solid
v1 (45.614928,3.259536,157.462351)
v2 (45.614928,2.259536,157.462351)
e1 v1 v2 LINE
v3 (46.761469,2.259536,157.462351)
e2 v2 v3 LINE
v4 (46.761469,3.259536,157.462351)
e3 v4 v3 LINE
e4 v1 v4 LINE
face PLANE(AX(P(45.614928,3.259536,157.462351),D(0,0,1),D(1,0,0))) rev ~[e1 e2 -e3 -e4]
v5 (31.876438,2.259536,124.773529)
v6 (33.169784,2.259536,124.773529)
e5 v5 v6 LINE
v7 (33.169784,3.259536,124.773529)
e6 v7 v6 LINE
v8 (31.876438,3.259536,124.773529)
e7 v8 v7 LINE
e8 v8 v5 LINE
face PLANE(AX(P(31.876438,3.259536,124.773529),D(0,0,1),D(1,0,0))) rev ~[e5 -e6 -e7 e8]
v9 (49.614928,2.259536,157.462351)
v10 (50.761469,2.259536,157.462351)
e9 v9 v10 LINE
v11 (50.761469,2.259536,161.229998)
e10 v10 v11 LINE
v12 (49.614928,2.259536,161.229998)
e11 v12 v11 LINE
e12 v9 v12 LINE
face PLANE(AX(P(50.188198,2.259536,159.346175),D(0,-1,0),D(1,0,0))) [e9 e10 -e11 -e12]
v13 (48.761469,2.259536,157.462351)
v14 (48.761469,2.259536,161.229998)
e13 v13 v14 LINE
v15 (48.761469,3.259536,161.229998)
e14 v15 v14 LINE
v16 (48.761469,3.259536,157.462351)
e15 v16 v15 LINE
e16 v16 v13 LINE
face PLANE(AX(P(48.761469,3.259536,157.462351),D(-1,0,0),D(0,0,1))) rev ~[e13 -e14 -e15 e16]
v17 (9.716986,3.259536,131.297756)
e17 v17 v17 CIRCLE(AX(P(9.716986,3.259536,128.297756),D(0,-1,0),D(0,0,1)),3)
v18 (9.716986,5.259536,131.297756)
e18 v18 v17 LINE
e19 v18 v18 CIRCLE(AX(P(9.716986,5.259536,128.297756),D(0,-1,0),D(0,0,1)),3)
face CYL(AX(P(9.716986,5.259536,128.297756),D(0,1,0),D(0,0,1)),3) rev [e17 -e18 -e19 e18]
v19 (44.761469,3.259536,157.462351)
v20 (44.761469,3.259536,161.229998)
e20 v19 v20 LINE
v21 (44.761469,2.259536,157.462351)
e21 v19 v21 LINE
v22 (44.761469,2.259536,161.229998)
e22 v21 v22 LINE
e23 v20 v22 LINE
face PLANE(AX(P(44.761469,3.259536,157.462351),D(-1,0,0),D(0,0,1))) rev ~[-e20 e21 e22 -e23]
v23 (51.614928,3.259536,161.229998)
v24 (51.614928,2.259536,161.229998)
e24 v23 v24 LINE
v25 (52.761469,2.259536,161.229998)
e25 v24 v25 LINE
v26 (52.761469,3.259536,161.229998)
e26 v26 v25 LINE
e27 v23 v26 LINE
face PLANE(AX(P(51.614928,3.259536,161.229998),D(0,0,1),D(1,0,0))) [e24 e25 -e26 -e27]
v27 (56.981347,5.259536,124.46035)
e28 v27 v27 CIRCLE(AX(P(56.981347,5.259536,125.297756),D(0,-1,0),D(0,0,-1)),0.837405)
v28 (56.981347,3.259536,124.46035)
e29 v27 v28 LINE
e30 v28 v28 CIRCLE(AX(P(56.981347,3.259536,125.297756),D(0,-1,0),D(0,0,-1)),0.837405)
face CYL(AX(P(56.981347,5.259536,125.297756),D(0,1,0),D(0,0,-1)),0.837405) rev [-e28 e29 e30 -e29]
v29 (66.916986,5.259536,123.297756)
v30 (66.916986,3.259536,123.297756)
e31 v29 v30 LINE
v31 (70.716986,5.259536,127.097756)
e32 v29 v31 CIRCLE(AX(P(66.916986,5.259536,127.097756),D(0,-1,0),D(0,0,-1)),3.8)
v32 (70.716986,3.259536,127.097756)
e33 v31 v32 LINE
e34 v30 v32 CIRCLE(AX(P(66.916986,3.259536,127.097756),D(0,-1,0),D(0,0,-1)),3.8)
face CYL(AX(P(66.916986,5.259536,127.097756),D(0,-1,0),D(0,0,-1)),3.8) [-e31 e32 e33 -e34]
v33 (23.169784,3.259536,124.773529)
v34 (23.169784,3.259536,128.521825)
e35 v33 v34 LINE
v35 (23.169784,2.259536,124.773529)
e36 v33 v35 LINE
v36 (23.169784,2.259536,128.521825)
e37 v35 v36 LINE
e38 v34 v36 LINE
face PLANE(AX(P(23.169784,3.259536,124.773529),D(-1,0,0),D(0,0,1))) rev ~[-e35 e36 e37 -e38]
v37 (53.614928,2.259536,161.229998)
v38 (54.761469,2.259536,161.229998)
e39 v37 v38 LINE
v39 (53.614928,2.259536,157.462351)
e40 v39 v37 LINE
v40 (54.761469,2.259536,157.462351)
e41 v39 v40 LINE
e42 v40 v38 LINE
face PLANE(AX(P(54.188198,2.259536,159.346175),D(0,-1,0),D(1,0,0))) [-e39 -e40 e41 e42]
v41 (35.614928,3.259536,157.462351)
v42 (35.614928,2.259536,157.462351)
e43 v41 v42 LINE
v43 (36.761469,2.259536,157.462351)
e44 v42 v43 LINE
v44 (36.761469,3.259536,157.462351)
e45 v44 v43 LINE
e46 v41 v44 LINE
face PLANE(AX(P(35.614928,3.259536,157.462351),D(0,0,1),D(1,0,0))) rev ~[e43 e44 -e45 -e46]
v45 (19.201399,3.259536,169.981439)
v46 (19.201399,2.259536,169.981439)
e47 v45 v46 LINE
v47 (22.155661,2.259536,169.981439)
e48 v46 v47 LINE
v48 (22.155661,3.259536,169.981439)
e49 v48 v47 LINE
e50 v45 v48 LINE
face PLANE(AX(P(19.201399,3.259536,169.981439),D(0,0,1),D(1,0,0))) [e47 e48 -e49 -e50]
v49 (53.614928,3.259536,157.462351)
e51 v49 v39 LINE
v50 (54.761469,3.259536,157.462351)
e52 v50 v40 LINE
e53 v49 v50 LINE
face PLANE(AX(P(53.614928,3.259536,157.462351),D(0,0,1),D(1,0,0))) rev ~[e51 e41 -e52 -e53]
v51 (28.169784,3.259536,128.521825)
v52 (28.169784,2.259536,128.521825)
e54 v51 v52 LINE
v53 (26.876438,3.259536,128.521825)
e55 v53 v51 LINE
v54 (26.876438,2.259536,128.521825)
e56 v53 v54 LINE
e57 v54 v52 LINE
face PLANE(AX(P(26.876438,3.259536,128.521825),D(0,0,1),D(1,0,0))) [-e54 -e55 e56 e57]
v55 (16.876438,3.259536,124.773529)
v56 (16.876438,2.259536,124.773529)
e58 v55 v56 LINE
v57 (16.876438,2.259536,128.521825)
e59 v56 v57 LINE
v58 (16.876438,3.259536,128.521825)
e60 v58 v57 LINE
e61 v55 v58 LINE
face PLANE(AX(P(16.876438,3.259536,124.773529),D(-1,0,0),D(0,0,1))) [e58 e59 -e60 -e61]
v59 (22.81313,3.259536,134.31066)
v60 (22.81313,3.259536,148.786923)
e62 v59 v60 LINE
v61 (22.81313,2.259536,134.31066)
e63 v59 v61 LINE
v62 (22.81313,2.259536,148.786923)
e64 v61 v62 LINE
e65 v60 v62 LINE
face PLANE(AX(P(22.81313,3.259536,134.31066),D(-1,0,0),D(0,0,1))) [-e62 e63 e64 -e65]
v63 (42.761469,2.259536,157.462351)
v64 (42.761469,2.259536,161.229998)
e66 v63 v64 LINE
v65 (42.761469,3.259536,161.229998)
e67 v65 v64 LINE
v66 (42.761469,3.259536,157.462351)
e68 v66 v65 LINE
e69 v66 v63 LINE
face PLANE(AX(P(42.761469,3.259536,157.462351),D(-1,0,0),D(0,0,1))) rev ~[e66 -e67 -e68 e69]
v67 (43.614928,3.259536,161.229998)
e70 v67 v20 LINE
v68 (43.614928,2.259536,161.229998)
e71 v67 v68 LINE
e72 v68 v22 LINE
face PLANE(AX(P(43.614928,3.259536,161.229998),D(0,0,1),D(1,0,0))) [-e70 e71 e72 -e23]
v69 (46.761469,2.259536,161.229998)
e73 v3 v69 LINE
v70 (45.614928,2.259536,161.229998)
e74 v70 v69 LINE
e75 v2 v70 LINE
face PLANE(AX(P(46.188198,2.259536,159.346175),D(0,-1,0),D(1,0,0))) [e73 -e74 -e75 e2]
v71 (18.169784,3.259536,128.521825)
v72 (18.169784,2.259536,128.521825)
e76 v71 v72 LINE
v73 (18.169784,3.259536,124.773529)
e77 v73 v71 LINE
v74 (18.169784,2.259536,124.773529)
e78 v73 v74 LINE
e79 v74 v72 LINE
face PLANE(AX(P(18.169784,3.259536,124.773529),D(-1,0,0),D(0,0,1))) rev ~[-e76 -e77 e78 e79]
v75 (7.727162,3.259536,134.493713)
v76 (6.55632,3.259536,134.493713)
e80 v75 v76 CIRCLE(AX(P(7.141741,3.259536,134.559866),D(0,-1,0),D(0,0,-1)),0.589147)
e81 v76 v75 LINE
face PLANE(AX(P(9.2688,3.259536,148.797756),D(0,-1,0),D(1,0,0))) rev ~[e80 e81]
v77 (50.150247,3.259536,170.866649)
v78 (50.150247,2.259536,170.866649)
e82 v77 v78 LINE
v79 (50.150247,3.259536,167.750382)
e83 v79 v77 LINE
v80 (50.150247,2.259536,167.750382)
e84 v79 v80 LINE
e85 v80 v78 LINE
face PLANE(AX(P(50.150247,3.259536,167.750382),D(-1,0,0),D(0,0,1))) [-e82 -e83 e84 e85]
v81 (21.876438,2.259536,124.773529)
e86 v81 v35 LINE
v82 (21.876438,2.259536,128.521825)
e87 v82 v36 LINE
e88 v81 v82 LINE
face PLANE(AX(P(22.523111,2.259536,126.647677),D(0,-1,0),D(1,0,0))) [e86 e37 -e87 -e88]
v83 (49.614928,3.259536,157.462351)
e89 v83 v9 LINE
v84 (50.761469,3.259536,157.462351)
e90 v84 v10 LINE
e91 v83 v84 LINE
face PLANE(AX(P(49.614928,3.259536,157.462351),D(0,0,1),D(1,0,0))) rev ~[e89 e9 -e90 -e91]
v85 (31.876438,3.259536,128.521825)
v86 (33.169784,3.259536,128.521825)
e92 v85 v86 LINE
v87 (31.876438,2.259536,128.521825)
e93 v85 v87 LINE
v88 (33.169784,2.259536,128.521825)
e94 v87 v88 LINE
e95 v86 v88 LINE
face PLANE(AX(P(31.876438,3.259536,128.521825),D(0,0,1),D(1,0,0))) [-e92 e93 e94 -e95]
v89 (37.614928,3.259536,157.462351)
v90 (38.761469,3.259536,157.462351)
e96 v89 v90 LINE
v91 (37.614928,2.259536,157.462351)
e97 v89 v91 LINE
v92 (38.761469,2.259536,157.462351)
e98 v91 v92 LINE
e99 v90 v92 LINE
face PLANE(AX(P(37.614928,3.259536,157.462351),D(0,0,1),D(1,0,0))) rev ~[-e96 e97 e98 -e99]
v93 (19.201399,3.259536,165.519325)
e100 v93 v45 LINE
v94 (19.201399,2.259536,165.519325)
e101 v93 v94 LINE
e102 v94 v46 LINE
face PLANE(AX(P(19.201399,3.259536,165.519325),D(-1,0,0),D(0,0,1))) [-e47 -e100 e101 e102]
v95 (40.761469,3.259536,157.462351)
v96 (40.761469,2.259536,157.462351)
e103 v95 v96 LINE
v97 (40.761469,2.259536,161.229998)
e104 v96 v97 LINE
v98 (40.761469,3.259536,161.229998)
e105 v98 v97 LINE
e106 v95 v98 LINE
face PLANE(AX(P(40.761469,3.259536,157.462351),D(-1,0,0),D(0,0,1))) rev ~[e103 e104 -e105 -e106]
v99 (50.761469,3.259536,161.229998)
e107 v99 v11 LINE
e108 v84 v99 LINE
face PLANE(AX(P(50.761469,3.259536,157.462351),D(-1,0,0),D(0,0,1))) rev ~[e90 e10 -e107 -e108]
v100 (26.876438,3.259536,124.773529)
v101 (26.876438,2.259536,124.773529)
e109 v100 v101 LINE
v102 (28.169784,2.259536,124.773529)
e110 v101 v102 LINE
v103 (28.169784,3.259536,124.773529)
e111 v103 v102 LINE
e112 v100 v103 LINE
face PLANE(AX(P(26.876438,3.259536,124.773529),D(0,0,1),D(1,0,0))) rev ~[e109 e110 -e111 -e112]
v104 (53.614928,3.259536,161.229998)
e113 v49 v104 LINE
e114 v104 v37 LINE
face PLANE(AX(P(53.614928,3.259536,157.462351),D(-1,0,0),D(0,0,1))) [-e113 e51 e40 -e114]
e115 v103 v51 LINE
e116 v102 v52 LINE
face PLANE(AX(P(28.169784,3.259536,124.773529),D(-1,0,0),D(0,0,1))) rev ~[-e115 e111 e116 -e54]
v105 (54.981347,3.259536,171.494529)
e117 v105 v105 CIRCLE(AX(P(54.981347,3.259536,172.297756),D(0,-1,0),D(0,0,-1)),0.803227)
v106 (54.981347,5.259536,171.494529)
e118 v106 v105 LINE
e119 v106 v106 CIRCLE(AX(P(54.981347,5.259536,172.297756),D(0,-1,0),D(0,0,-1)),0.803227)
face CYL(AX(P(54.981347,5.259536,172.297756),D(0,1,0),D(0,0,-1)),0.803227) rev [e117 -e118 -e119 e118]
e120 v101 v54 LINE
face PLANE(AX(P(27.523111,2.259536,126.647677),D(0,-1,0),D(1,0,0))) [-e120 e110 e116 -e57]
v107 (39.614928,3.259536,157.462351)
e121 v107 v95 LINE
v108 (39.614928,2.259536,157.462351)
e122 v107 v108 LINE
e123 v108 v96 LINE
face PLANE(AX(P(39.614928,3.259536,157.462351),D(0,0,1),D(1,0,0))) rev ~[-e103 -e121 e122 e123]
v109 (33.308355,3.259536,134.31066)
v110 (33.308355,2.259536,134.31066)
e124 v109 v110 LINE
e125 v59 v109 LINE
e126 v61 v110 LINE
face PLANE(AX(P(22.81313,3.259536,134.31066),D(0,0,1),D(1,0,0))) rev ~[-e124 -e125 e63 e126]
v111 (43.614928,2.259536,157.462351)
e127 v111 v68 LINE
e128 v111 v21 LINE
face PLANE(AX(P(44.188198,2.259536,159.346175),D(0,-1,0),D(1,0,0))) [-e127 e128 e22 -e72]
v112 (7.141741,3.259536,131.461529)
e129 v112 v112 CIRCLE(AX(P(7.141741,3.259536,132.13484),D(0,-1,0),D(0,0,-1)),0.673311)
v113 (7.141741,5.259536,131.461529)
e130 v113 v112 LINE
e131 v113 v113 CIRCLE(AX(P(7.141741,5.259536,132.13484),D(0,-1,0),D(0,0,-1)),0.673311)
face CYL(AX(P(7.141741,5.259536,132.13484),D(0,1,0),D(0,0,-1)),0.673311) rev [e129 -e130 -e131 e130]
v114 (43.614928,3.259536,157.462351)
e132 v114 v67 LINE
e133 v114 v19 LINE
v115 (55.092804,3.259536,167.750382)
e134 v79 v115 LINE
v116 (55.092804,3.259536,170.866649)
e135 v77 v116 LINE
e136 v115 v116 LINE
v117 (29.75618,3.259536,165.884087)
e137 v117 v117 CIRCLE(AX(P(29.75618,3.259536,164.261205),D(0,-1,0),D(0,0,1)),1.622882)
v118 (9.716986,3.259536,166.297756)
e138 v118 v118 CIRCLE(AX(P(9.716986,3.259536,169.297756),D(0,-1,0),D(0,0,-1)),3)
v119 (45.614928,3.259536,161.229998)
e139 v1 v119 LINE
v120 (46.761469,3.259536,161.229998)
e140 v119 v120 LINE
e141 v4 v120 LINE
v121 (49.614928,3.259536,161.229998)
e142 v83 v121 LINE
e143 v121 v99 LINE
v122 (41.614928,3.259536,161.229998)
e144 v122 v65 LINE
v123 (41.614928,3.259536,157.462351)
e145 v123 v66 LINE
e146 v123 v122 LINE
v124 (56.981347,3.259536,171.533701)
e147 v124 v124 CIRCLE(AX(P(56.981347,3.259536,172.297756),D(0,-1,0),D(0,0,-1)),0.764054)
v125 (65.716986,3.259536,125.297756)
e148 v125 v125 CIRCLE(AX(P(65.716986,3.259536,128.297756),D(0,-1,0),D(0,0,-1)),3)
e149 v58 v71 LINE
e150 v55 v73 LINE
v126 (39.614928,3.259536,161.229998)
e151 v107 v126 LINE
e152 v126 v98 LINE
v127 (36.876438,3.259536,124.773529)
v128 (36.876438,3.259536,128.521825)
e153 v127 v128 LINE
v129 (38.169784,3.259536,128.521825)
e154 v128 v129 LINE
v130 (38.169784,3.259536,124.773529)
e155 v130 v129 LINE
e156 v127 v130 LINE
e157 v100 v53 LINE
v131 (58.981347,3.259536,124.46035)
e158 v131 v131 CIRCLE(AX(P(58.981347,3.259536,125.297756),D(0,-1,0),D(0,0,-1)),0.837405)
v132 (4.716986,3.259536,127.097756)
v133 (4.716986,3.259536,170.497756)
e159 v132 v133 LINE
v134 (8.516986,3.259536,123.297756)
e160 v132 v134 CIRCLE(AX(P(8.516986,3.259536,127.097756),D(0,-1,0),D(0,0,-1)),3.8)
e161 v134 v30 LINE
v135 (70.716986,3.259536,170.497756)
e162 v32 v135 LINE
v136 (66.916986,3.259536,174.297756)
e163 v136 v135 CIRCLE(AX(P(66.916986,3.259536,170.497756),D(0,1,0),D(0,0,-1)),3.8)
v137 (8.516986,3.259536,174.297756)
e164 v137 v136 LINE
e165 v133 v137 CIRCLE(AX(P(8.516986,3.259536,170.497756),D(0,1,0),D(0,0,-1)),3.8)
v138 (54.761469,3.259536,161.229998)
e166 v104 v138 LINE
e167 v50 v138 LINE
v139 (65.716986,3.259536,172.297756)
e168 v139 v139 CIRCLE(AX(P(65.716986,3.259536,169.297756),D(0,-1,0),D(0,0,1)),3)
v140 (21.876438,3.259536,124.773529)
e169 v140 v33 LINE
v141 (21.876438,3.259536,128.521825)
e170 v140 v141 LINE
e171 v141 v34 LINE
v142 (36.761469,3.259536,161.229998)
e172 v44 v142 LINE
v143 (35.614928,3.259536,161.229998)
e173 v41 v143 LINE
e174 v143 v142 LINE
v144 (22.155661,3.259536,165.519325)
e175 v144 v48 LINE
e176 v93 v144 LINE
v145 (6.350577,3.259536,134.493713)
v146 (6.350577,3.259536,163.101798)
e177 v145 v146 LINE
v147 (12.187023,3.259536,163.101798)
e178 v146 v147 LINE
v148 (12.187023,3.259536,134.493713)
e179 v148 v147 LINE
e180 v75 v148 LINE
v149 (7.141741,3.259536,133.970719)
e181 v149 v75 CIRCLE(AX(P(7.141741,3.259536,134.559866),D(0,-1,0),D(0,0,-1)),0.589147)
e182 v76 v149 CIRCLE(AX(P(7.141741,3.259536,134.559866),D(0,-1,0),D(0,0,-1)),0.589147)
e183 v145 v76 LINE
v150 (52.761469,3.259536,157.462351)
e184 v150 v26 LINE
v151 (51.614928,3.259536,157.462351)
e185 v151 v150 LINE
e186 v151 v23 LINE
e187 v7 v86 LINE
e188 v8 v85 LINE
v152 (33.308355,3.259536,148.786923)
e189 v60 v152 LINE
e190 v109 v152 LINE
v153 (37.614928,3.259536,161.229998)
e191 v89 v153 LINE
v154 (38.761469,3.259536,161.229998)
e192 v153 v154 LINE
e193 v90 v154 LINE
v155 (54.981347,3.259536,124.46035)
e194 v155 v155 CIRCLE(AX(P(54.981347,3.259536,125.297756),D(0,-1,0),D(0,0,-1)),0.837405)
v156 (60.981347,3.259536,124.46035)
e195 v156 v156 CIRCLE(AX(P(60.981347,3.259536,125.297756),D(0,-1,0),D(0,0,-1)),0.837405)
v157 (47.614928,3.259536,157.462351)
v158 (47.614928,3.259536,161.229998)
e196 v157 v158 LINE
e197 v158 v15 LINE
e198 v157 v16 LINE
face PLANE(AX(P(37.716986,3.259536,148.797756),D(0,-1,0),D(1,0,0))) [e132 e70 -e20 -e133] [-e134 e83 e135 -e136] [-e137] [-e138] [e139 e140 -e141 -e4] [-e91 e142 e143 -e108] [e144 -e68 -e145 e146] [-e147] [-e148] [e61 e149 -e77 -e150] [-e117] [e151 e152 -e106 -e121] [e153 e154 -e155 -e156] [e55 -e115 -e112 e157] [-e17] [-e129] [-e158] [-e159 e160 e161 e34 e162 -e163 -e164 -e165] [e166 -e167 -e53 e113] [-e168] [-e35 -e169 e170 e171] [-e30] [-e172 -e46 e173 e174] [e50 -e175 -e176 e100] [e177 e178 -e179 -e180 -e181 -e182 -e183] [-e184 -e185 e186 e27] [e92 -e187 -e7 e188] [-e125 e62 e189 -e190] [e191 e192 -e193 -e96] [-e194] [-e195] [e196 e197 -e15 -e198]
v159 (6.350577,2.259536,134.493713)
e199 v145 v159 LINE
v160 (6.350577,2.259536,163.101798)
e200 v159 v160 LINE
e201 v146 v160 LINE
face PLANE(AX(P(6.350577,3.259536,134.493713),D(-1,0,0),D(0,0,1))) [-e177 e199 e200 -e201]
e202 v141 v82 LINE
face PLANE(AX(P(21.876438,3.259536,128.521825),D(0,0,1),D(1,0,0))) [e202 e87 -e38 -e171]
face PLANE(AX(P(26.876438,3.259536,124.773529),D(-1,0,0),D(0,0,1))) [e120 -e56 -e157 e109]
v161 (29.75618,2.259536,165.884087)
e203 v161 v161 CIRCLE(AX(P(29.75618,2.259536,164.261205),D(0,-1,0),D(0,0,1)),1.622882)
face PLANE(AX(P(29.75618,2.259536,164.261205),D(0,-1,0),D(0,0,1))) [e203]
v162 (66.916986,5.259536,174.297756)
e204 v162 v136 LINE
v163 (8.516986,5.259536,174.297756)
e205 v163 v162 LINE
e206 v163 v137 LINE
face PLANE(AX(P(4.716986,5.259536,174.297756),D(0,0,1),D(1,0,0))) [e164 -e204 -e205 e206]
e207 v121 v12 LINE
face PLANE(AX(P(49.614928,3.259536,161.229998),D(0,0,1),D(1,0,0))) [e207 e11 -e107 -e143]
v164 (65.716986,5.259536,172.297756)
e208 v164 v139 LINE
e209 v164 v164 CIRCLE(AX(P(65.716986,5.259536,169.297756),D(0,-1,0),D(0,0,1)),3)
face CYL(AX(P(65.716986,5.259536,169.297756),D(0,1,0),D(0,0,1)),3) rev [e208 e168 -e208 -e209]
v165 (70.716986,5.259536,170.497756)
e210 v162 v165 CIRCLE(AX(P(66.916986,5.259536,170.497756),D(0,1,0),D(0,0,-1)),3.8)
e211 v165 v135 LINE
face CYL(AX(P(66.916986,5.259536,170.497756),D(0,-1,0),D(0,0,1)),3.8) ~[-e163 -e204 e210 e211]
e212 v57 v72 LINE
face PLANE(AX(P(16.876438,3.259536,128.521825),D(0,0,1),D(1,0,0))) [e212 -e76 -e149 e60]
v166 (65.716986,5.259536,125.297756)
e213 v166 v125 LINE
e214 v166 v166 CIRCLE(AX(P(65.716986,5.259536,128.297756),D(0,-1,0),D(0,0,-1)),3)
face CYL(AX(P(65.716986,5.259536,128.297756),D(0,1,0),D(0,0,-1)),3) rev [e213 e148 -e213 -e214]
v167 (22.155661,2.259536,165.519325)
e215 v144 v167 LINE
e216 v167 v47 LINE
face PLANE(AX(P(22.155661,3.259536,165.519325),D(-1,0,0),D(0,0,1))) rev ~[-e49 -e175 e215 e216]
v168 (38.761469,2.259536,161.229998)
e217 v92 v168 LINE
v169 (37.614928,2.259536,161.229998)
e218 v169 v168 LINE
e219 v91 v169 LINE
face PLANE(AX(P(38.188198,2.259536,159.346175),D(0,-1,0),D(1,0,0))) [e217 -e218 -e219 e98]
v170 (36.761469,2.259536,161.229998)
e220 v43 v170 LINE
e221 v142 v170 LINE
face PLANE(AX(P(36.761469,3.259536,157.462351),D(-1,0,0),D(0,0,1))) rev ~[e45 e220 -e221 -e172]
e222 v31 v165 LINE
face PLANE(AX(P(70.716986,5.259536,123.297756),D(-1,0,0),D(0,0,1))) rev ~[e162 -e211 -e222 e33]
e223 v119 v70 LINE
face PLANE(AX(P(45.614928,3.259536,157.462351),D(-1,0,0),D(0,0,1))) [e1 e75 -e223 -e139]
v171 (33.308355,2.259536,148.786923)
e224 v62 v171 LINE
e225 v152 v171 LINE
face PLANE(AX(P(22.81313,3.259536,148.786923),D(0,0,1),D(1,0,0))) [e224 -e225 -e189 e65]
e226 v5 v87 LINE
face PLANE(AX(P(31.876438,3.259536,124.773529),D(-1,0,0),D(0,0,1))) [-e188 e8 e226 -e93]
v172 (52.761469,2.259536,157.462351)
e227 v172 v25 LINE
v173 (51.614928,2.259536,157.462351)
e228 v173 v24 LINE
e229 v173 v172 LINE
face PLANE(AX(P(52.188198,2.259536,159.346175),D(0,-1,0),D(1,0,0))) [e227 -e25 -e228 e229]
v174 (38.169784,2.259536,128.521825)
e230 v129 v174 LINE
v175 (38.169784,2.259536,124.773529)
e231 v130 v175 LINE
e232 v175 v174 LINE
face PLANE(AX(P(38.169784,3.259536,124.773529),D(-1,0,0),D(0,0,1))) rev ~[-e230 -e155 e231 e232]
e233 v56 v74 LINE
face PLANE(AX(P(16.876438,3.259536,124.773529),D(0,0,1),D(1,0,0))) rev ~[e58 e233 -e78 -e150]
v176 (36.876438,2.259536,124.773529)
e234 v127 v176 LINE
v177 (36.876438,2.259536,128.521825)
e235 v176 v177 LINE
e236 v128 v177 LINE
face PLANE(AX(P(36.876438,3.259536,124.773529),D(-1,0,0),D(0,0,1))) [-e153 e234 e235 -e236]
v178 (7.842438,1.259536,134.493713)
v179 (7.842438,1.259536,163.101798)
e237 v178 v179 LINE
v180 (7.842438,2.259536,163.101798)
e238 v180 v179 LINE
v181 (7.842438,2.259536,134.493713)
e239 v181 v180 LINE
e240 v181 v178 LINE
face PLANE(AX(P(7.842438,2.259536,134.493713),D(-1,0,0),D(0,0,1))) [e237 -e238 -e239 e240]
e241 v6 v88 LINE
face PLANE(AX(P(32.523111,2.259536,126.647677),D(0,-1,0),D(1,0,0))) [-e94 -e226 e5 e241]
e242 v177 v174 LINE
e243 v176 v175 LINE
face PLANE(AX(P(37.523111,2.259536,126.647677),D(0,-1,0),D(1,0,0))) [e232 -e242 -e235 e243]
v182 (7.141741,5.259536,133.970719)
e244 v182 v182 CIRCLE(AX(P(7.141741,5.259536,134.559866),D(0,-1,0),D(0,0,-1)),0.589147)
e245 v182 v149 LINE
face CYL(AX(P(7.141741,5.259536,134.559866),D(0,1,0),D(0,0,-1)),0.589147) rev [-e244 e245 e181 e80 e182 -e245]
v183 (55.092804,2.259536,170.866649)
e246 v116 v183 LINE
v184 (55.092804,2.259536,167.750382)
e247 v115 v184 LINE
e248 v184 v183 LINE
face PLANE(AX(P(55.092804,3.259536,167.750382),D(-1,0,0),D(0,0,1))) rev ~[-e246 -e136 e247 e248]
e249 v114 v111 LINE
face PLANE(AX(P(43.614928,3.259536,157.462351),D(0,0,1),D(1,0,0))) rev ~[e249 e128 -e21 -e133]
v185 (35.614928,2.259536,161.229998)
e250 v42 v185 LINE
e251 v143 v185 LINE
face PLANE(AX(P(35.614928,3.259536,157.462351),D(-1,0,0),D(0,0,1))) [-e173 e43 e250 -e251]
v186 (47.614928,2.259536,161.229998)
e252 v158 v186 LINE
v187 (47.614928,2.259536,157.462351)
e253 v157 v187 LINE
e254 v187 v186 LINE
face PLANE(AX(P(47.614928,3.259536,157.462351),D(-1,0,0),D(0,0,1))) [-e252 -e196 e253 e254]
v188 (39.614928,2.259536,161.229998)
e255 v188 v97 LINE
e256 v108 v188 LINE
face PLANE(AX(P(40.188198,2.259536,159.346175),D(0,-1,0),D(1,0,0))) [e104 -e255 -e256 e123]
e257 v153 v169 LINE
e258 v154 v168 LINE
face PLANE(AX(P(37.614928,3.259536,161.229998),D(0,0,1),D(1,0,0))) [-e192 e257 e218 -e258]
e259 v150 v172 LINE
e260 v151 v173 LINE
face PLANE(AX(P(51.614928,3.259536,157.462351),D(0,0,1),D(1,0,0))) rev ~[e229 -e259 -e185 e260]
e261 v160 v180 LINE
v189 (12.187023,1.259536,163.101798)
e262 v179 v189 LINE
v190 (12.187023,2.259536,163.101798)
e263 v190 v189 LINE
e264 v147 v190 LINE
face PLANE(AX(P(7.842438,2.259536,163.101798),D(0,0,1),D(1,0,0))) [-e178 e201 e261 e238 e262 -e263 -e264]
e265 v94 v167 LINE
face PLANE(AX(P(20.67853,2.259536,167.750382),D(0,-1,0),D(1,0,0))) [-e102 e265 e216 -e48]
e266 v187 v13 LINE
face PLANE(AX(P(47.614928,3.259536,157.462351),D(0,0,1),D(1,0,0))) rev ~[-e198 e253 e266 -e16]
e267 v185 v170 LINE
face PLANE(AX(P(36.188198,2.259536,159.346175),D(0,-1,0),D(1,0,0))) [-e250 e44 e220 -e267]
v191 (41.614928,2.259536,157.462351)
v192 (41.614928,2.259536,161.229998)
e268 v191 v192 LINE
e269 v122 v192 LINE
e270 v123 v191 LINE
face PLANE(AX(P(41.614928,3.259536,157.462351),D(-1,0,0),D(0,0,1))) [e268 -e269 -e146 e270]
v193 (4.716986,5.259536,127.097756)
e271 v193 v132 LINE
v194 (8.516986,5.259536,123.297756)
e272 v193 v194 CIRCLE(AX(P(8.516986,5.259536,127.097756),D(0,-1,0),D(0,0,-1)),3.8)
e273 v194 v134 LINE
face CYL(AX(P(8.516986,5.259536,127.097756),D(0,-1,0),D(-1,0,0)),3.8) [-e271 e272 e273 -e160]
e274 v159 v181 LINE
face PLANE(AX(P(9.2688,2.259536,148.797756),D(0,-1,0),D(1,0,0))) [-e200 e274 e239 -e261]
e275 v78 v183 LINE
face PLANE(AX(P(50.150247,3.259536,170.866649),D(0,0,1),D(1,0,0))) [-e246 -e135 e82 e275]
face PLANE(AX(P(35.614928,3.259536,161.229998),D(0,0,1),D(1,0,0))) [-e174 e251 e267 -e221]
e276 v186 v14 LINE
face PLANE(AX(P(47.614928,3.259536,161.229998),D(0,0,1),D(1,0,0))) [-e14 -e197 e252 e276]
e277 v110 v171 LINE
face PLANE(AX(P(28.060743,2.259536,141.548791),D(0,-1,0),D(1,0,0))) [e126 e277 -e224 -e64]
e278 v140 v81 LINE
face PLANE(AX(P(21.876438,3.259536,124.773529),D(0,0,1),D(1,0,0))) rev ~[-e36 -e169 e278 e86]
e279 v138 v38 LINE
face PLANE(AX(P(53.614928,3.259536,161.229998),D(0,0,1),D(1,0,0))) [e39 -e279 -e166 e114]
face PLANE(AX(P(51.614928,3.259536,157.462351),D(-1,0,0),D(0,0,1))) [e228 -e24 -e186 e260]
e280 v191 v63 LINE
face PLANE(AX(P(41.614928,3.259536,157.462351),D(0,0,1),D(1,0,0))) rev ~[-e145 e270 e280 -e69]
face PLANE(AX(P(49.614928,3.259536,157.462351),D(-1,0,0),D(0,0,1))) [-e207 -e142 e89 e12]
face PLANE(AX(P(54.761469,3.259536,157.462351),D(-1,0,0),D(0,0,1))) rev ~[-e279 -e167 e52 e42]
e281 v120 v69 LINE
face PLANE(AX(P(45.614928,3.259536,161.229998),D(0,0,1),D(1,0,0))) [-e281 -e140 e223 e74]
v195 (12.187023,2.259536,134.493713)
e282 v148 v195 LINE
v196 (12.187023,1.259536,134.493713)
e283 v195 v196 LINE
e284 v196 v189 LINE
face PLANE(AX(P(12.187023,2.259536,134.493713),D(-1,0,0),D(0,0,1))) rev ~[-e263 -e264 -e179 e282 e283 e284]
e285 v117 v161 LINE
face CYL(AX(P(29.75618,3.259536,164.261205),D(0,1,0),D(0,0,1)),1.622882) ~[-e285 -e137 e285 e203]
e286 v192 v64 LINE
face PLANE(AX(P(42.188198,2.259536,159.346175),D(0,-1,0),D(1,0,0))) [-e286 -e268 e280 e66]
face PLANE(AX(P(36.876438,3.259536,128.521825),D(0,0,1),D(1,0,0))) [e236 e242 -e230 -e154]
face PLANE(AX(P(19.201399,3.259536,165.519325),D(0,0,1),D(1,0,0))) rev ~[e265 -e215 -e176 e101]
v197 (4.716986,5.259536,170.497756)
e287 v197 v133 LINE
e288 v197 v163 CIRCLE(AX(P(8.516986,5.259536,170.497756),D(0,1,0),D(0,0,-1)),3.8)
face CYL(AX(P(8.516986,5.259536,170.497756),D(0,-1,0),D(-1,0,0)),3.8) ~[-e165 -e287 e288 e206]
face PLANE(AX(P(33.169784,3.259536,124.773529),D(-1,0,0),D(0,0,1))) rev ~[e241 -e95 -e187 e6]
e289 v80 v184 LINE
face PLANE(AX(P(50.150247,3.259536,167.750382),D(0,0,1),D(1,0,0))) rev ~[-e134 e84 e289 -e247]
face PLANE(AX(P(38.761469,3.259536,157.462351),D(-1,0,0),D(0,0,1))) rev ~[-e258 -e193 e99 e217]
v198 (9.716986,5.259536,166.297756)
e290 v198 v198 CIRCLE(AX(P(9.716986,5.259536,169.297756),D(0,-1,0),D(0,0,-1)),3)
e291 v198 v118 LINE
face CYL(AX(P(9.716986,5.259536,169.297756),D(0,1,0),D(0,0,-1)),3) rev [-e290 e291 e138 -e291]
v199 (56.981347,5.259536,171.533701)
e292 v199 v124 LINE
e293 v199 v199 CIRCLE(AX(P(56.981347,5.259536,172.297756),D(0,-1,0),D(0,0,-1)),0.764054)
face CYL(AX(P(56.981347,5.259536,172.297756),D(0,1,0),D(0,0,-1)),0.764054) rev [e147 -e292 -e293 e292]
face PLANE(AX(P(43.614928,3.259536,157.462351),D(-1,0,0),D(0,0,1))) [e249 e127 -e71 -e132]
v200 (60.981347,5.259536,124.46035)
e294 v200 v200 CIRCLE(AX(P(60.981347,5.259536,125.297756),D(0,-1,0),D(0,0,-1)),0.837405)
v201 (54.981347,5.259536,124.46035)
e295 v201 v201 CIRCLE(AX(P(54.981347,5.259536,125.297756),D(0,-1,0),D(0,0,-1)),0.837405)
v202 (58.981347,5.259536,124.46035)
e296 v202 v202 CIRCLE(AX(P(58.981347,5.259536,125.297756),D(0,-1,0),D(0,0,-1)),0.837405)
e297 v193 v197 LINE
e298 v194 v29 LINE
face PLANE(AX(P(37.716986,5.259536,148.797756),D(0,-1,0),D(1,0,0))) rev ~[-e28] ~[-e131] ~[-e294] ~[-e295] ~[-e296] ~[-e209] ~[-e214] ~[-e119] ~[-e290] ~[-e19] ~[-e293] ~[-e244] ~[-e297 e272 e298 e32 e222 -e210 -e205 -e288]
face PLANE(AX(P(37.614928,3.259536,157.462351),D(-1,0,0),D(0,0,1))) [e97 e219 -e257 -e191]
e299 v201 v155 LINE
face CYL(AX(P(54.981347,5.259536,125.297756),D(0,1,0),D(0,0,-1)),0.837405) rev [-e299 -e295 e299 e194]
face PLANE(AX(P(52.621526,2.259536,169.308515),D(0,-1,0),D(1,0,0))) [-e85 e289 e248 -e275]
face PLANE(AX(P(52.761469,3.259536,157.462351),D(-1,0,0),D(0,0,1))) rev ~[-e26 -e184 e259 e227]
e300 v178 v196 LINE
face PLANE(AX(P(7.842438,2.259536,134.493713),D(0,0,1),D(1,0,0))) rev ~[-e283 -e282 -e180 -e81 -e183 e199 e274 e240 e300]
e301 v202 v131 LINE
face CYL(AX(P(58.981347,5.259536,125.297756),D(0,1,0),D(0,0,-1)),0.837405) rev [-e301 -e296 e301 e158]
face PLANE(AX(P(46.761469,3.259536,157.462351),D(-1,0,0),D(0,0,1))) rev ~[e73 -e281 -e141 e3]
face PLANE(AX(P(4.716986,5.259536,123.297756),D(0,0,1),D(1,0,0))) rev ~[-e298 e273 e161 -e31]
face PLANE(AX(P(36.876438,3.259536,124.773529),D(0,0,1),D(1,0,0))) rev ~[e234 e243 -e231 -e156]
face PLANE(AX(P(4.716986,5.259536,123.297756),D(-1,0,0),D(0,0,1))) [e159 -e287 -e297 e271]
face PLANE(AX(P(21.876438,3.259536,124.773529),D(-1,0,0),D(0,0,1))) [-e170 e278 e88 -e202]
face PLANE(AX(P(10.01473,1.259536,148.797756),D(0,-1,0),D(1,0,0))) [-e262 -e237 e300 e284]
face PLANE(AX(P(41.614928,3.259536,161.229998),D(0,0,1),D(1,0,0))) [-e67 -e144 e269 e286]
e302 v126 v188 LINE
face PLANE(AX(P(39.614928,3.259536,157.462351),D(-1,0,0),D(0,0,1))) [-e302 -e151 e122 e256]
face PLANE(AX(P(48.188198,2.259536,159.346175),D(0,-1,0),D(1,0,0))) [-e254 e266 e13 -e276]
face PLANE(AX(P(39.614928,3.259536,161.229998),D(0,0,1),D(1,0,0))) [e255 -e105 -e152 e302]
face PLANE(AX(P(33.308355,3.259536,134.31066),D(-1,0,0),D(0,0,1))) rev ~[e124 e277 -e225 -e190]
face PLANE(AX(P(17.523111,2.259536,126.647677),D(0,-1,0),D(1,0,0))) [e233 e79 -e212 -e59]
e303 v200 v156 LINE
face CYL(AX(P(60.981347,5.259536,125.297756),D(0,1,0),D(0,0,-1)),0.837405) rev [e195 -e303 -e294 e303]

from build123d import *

# Parameters (mm, degrees)
SKETCH1_W           = 66
SKETCH1_H           = 51
SKETCH1_R           = 3
SKETCH1_R_2         = 0.837405072
SKETCH1_R_3         = 0.764054199
SKETCH1_R_4         = 0.803226567
SKETCH1_R_5         = 0.673310758
SKETCH1_R_6         = 0.589146913
BOSS_EXTRUDE1_DEPTH = 2
FILLET1_R           = 3.8
SKETCH2_W           = 5.836445367
SKETCH2_H           = 28.608084639
BOSS_EXTRUDE2_DEPTH = 1
SKETCH3_W           = 4.344585264
SKETCH3_H           = 28.608084639
BOSS_EXTRUDE3_DEPTH = 1
SKETCH4_R           = 1.622882134
SKETCH4_W           = 1.146541205
SKETCH4_H           = 3.7676464
SKETCH4_W_2         = 10.495224563
SKETCH4_H_2         = 14.476262407
SKETCH4_W_3         = 2.954262821
SKETCH4_H_3         = 4.462113597
SKETCH4_W_4         = 4.942556884
SKETCH4_H_4         = 3.116266577
SKETCH4_W_5         = 1.293345918
SKETCH4_H_5         = 3.748296022
BOSS_EXTRUDE4_DEPTH = 1


with BuildPart() as part:
    # Sketch1 → Boss-Extrude1 (new body)
    with BuildSketch(Plane.XZ.offset(-5.259536096)):
        with Locations((37.716985738, 148.797755553)):
            Rectangle(SKETCH1_W, SKETCH1_H)
        with Locations(Location((65.716985738, 128.297755553, 0), (0, 0, 270))):  # turned: the seam where the file's is
            Circle(SKETCH1_R, mode=Mode.SUBTRACT)
        with Locations(Location((9.716985738, 128.297755553, 0), (0, 0, 90))):  # turned: the seam where the file's is
            Circle(SKETCH1_R, mode=Mode.SUBTRACT)
        with Locations(Location((65.716985738, 169.297755553, 0), (0, 0, 90))):  # turned: the seam where the file's is
            Circle(SKETCH1_R, mode=Mode.SUBTRACT)
        with Locations(Location((9.716985738, 169.297755553, 0), (0, 0, 270))):  # turned: the seam where the file's is
            Circle(SKETCH1_R, mode=Mode.SUBTRACT)
        with Locations(Location((60.981346955, 125.297755553, 0), (0, 0, 270))):  # turned: the seam where the file's is
            Circle(SKETCH1_R_2, mode=Mode.SUBTRACT)
        with Locations(Location((58.981346955, 125.297755553, 0), (0, 0, 270))):  # turned: the seam where the file's is
            Circle(SKETCH1_R_2, mode=Mode.SUBTRACT)
        with Locations(Location((56.981346955, 125.297755553, 0), (0, 0, 270))):  # turned: the seam where the file's is
            Circle(SKETCH1_R_2, mode=Mode.SUBTRACT)
        with Locations(Location((54.981346955, 125.297755553, 0), (0, 0, 270))):  # turned: the seam where the file's is
            Circle(SKETCH1_R_2, mode=Mode.SUBTRACT)
        with Locations(Location((56.981346955, 172.297755553, 0), (0, 0, 270))):  # turned: the seam where the file's is
            Circle(SKETCH1_R_3, mode=Mode.SUBTRACT)
        with Locations(Location((54.981346955, 172.297755553, 0), (0, 0, 270))):  # turned: the seam where the file's is
            Circle(SKETCH1_R_4, mode=Mode.SUBTRACT)
        with Locations(Location((7.14174105, 132.13483961, 0), (0, 0, 270))):  # turned: the seam where the file's is
            Circle(SKETCH1_R_5, mode=Mode.SUBTRACT)
        with Locations(Location((7.14174105, 134.559866184, 0), (0, 0, 270))):  # turned: the seam where the file's is
            Circle(SKETCH1_R_6, mode=Mode.SUBTRACT)
    extrude(amount=BOSS_EXTRUDE1_DEPTH)

    # Fillet1
    fillet1_edges = [part.edges().sort_by_distance(p)[0] for p in [
        (70.716985738, 4.259536096, 123.297755553),
        (4.716985738, 4.259536096, 123.297755553),
        (4.716985738, 4.259536096, 174.297755553),
        (70.716985738, 4.259536096, 174.297755553),
    ]]
    fillet(fillet1_edges, radius=FILLET1_R)

    # Sketch2 → Boss-Extrude2 (add)
    with BuildSketch(Plane.XZ.offset(-3.259536096)):
        with Locations((9.268800109, 148.797755553)):
            Rectangle(SKETCH2_W, SKETCH2_H)
    extrude(amount=BOSS_EXTRUDE2_DEPTH)

    # Sketch3 → Boss-Extrude3 (add)
    with BuildSketch(Plane.XZ.offset(-2.259536096)):
        with Locations((10.01473016, 148.797755553)):
            Rectangle(SKETCH3_W, SKETCH3_H)
    extrude(amount=BOSS_EXTRUDE3_DEPTH)

    # Sketch4 → Boss-Extrude4 (add)
    with BuildSketch(Plane.XZ.offset(-3.259536096)):
        with Locations(Location((29.756180169, 164.261204908, 0), (0, 0, 90))):  # turned: the seam where the file's is
            Circle(SKETCH4_R)
        with Locations((52.18819816, 159.346174618)):
            Rectangle(SKETCH4_W, SKETCH4_H)
        with Locations((28.060742514, 141.548791384)):
            Rectangle(SKETCH4_W_2, SKETCH4_H_2)
        with Locations((20.678530081, 167.750382062)):
            Rectangle(SKETCH4_W_3, SKETCH4_H_3)
        with Locations((52.621525564, 169.30851535)):
            Rectangle(SKETCH4_W_4, SKETCH4_H_4)
        with Locations((54.18819816, 159.346174618)):
            Rectangle(SKETCH4_W, SKETCH4_H)
        with Locations((50.18819816, 159.346174618)):
            Rectangle(SKETCH4_W, SKETCH4_H)
        with Locations((48.18819816, 159.346174618)):
            Rectangle(SKETCH4_W, SKETCH4_H)
        with Locations((46.18819816, 159.346174618)):
            Rectangle(SKETCH4_W, SKETCH4_H)
        with Locations((44.18819816, 159.346174618)):
            Rectangle(SKETCH4_W, SKETCH4_H)
        with Locations((42.18819816, 159.346174618)):
            Rectangle(SKETCH4_W, SKETCH4_H)
        with Locations((40.18819816, 159.346174618)):
            Rectangle(SKETCH4_W, SKETCH4_H)
        with Locations((38.18819816, 159.346174618)):
            Rectangle(SKETCH4_W, SKETCH4_H)
        with Locations((36.18819816, 159.346174618)):
            Rectangle(SKETCH4_W, SKETCH4_H)
        with Locations((22.523111138, 126.647676881)):
            Rectangle(SKETCH4_W_5, SKETCH4_H_5)
        with Locations((17.523111138, 126.647676881)):
            Rectangle(SKETCH4_W_5, SKETCH4_H_5)
        with Locations((27.523111138, 126.647676881)):
            Rectangle(SKETCH4_W_5, SKETCH4_H_5)
        with Locations((32.523111138, 126.647676881)):
            Rectangle(SKETCH4_W_5, SKETCH4_H_5)
        with Locations((37.523111138, 126.647676881)):
            Rectangle(SKETCH4_W_5, SKETCH4_H_5)
    extrude(amount=BOSS_EXTRUDE4_DEPTH)


solid = part.part
